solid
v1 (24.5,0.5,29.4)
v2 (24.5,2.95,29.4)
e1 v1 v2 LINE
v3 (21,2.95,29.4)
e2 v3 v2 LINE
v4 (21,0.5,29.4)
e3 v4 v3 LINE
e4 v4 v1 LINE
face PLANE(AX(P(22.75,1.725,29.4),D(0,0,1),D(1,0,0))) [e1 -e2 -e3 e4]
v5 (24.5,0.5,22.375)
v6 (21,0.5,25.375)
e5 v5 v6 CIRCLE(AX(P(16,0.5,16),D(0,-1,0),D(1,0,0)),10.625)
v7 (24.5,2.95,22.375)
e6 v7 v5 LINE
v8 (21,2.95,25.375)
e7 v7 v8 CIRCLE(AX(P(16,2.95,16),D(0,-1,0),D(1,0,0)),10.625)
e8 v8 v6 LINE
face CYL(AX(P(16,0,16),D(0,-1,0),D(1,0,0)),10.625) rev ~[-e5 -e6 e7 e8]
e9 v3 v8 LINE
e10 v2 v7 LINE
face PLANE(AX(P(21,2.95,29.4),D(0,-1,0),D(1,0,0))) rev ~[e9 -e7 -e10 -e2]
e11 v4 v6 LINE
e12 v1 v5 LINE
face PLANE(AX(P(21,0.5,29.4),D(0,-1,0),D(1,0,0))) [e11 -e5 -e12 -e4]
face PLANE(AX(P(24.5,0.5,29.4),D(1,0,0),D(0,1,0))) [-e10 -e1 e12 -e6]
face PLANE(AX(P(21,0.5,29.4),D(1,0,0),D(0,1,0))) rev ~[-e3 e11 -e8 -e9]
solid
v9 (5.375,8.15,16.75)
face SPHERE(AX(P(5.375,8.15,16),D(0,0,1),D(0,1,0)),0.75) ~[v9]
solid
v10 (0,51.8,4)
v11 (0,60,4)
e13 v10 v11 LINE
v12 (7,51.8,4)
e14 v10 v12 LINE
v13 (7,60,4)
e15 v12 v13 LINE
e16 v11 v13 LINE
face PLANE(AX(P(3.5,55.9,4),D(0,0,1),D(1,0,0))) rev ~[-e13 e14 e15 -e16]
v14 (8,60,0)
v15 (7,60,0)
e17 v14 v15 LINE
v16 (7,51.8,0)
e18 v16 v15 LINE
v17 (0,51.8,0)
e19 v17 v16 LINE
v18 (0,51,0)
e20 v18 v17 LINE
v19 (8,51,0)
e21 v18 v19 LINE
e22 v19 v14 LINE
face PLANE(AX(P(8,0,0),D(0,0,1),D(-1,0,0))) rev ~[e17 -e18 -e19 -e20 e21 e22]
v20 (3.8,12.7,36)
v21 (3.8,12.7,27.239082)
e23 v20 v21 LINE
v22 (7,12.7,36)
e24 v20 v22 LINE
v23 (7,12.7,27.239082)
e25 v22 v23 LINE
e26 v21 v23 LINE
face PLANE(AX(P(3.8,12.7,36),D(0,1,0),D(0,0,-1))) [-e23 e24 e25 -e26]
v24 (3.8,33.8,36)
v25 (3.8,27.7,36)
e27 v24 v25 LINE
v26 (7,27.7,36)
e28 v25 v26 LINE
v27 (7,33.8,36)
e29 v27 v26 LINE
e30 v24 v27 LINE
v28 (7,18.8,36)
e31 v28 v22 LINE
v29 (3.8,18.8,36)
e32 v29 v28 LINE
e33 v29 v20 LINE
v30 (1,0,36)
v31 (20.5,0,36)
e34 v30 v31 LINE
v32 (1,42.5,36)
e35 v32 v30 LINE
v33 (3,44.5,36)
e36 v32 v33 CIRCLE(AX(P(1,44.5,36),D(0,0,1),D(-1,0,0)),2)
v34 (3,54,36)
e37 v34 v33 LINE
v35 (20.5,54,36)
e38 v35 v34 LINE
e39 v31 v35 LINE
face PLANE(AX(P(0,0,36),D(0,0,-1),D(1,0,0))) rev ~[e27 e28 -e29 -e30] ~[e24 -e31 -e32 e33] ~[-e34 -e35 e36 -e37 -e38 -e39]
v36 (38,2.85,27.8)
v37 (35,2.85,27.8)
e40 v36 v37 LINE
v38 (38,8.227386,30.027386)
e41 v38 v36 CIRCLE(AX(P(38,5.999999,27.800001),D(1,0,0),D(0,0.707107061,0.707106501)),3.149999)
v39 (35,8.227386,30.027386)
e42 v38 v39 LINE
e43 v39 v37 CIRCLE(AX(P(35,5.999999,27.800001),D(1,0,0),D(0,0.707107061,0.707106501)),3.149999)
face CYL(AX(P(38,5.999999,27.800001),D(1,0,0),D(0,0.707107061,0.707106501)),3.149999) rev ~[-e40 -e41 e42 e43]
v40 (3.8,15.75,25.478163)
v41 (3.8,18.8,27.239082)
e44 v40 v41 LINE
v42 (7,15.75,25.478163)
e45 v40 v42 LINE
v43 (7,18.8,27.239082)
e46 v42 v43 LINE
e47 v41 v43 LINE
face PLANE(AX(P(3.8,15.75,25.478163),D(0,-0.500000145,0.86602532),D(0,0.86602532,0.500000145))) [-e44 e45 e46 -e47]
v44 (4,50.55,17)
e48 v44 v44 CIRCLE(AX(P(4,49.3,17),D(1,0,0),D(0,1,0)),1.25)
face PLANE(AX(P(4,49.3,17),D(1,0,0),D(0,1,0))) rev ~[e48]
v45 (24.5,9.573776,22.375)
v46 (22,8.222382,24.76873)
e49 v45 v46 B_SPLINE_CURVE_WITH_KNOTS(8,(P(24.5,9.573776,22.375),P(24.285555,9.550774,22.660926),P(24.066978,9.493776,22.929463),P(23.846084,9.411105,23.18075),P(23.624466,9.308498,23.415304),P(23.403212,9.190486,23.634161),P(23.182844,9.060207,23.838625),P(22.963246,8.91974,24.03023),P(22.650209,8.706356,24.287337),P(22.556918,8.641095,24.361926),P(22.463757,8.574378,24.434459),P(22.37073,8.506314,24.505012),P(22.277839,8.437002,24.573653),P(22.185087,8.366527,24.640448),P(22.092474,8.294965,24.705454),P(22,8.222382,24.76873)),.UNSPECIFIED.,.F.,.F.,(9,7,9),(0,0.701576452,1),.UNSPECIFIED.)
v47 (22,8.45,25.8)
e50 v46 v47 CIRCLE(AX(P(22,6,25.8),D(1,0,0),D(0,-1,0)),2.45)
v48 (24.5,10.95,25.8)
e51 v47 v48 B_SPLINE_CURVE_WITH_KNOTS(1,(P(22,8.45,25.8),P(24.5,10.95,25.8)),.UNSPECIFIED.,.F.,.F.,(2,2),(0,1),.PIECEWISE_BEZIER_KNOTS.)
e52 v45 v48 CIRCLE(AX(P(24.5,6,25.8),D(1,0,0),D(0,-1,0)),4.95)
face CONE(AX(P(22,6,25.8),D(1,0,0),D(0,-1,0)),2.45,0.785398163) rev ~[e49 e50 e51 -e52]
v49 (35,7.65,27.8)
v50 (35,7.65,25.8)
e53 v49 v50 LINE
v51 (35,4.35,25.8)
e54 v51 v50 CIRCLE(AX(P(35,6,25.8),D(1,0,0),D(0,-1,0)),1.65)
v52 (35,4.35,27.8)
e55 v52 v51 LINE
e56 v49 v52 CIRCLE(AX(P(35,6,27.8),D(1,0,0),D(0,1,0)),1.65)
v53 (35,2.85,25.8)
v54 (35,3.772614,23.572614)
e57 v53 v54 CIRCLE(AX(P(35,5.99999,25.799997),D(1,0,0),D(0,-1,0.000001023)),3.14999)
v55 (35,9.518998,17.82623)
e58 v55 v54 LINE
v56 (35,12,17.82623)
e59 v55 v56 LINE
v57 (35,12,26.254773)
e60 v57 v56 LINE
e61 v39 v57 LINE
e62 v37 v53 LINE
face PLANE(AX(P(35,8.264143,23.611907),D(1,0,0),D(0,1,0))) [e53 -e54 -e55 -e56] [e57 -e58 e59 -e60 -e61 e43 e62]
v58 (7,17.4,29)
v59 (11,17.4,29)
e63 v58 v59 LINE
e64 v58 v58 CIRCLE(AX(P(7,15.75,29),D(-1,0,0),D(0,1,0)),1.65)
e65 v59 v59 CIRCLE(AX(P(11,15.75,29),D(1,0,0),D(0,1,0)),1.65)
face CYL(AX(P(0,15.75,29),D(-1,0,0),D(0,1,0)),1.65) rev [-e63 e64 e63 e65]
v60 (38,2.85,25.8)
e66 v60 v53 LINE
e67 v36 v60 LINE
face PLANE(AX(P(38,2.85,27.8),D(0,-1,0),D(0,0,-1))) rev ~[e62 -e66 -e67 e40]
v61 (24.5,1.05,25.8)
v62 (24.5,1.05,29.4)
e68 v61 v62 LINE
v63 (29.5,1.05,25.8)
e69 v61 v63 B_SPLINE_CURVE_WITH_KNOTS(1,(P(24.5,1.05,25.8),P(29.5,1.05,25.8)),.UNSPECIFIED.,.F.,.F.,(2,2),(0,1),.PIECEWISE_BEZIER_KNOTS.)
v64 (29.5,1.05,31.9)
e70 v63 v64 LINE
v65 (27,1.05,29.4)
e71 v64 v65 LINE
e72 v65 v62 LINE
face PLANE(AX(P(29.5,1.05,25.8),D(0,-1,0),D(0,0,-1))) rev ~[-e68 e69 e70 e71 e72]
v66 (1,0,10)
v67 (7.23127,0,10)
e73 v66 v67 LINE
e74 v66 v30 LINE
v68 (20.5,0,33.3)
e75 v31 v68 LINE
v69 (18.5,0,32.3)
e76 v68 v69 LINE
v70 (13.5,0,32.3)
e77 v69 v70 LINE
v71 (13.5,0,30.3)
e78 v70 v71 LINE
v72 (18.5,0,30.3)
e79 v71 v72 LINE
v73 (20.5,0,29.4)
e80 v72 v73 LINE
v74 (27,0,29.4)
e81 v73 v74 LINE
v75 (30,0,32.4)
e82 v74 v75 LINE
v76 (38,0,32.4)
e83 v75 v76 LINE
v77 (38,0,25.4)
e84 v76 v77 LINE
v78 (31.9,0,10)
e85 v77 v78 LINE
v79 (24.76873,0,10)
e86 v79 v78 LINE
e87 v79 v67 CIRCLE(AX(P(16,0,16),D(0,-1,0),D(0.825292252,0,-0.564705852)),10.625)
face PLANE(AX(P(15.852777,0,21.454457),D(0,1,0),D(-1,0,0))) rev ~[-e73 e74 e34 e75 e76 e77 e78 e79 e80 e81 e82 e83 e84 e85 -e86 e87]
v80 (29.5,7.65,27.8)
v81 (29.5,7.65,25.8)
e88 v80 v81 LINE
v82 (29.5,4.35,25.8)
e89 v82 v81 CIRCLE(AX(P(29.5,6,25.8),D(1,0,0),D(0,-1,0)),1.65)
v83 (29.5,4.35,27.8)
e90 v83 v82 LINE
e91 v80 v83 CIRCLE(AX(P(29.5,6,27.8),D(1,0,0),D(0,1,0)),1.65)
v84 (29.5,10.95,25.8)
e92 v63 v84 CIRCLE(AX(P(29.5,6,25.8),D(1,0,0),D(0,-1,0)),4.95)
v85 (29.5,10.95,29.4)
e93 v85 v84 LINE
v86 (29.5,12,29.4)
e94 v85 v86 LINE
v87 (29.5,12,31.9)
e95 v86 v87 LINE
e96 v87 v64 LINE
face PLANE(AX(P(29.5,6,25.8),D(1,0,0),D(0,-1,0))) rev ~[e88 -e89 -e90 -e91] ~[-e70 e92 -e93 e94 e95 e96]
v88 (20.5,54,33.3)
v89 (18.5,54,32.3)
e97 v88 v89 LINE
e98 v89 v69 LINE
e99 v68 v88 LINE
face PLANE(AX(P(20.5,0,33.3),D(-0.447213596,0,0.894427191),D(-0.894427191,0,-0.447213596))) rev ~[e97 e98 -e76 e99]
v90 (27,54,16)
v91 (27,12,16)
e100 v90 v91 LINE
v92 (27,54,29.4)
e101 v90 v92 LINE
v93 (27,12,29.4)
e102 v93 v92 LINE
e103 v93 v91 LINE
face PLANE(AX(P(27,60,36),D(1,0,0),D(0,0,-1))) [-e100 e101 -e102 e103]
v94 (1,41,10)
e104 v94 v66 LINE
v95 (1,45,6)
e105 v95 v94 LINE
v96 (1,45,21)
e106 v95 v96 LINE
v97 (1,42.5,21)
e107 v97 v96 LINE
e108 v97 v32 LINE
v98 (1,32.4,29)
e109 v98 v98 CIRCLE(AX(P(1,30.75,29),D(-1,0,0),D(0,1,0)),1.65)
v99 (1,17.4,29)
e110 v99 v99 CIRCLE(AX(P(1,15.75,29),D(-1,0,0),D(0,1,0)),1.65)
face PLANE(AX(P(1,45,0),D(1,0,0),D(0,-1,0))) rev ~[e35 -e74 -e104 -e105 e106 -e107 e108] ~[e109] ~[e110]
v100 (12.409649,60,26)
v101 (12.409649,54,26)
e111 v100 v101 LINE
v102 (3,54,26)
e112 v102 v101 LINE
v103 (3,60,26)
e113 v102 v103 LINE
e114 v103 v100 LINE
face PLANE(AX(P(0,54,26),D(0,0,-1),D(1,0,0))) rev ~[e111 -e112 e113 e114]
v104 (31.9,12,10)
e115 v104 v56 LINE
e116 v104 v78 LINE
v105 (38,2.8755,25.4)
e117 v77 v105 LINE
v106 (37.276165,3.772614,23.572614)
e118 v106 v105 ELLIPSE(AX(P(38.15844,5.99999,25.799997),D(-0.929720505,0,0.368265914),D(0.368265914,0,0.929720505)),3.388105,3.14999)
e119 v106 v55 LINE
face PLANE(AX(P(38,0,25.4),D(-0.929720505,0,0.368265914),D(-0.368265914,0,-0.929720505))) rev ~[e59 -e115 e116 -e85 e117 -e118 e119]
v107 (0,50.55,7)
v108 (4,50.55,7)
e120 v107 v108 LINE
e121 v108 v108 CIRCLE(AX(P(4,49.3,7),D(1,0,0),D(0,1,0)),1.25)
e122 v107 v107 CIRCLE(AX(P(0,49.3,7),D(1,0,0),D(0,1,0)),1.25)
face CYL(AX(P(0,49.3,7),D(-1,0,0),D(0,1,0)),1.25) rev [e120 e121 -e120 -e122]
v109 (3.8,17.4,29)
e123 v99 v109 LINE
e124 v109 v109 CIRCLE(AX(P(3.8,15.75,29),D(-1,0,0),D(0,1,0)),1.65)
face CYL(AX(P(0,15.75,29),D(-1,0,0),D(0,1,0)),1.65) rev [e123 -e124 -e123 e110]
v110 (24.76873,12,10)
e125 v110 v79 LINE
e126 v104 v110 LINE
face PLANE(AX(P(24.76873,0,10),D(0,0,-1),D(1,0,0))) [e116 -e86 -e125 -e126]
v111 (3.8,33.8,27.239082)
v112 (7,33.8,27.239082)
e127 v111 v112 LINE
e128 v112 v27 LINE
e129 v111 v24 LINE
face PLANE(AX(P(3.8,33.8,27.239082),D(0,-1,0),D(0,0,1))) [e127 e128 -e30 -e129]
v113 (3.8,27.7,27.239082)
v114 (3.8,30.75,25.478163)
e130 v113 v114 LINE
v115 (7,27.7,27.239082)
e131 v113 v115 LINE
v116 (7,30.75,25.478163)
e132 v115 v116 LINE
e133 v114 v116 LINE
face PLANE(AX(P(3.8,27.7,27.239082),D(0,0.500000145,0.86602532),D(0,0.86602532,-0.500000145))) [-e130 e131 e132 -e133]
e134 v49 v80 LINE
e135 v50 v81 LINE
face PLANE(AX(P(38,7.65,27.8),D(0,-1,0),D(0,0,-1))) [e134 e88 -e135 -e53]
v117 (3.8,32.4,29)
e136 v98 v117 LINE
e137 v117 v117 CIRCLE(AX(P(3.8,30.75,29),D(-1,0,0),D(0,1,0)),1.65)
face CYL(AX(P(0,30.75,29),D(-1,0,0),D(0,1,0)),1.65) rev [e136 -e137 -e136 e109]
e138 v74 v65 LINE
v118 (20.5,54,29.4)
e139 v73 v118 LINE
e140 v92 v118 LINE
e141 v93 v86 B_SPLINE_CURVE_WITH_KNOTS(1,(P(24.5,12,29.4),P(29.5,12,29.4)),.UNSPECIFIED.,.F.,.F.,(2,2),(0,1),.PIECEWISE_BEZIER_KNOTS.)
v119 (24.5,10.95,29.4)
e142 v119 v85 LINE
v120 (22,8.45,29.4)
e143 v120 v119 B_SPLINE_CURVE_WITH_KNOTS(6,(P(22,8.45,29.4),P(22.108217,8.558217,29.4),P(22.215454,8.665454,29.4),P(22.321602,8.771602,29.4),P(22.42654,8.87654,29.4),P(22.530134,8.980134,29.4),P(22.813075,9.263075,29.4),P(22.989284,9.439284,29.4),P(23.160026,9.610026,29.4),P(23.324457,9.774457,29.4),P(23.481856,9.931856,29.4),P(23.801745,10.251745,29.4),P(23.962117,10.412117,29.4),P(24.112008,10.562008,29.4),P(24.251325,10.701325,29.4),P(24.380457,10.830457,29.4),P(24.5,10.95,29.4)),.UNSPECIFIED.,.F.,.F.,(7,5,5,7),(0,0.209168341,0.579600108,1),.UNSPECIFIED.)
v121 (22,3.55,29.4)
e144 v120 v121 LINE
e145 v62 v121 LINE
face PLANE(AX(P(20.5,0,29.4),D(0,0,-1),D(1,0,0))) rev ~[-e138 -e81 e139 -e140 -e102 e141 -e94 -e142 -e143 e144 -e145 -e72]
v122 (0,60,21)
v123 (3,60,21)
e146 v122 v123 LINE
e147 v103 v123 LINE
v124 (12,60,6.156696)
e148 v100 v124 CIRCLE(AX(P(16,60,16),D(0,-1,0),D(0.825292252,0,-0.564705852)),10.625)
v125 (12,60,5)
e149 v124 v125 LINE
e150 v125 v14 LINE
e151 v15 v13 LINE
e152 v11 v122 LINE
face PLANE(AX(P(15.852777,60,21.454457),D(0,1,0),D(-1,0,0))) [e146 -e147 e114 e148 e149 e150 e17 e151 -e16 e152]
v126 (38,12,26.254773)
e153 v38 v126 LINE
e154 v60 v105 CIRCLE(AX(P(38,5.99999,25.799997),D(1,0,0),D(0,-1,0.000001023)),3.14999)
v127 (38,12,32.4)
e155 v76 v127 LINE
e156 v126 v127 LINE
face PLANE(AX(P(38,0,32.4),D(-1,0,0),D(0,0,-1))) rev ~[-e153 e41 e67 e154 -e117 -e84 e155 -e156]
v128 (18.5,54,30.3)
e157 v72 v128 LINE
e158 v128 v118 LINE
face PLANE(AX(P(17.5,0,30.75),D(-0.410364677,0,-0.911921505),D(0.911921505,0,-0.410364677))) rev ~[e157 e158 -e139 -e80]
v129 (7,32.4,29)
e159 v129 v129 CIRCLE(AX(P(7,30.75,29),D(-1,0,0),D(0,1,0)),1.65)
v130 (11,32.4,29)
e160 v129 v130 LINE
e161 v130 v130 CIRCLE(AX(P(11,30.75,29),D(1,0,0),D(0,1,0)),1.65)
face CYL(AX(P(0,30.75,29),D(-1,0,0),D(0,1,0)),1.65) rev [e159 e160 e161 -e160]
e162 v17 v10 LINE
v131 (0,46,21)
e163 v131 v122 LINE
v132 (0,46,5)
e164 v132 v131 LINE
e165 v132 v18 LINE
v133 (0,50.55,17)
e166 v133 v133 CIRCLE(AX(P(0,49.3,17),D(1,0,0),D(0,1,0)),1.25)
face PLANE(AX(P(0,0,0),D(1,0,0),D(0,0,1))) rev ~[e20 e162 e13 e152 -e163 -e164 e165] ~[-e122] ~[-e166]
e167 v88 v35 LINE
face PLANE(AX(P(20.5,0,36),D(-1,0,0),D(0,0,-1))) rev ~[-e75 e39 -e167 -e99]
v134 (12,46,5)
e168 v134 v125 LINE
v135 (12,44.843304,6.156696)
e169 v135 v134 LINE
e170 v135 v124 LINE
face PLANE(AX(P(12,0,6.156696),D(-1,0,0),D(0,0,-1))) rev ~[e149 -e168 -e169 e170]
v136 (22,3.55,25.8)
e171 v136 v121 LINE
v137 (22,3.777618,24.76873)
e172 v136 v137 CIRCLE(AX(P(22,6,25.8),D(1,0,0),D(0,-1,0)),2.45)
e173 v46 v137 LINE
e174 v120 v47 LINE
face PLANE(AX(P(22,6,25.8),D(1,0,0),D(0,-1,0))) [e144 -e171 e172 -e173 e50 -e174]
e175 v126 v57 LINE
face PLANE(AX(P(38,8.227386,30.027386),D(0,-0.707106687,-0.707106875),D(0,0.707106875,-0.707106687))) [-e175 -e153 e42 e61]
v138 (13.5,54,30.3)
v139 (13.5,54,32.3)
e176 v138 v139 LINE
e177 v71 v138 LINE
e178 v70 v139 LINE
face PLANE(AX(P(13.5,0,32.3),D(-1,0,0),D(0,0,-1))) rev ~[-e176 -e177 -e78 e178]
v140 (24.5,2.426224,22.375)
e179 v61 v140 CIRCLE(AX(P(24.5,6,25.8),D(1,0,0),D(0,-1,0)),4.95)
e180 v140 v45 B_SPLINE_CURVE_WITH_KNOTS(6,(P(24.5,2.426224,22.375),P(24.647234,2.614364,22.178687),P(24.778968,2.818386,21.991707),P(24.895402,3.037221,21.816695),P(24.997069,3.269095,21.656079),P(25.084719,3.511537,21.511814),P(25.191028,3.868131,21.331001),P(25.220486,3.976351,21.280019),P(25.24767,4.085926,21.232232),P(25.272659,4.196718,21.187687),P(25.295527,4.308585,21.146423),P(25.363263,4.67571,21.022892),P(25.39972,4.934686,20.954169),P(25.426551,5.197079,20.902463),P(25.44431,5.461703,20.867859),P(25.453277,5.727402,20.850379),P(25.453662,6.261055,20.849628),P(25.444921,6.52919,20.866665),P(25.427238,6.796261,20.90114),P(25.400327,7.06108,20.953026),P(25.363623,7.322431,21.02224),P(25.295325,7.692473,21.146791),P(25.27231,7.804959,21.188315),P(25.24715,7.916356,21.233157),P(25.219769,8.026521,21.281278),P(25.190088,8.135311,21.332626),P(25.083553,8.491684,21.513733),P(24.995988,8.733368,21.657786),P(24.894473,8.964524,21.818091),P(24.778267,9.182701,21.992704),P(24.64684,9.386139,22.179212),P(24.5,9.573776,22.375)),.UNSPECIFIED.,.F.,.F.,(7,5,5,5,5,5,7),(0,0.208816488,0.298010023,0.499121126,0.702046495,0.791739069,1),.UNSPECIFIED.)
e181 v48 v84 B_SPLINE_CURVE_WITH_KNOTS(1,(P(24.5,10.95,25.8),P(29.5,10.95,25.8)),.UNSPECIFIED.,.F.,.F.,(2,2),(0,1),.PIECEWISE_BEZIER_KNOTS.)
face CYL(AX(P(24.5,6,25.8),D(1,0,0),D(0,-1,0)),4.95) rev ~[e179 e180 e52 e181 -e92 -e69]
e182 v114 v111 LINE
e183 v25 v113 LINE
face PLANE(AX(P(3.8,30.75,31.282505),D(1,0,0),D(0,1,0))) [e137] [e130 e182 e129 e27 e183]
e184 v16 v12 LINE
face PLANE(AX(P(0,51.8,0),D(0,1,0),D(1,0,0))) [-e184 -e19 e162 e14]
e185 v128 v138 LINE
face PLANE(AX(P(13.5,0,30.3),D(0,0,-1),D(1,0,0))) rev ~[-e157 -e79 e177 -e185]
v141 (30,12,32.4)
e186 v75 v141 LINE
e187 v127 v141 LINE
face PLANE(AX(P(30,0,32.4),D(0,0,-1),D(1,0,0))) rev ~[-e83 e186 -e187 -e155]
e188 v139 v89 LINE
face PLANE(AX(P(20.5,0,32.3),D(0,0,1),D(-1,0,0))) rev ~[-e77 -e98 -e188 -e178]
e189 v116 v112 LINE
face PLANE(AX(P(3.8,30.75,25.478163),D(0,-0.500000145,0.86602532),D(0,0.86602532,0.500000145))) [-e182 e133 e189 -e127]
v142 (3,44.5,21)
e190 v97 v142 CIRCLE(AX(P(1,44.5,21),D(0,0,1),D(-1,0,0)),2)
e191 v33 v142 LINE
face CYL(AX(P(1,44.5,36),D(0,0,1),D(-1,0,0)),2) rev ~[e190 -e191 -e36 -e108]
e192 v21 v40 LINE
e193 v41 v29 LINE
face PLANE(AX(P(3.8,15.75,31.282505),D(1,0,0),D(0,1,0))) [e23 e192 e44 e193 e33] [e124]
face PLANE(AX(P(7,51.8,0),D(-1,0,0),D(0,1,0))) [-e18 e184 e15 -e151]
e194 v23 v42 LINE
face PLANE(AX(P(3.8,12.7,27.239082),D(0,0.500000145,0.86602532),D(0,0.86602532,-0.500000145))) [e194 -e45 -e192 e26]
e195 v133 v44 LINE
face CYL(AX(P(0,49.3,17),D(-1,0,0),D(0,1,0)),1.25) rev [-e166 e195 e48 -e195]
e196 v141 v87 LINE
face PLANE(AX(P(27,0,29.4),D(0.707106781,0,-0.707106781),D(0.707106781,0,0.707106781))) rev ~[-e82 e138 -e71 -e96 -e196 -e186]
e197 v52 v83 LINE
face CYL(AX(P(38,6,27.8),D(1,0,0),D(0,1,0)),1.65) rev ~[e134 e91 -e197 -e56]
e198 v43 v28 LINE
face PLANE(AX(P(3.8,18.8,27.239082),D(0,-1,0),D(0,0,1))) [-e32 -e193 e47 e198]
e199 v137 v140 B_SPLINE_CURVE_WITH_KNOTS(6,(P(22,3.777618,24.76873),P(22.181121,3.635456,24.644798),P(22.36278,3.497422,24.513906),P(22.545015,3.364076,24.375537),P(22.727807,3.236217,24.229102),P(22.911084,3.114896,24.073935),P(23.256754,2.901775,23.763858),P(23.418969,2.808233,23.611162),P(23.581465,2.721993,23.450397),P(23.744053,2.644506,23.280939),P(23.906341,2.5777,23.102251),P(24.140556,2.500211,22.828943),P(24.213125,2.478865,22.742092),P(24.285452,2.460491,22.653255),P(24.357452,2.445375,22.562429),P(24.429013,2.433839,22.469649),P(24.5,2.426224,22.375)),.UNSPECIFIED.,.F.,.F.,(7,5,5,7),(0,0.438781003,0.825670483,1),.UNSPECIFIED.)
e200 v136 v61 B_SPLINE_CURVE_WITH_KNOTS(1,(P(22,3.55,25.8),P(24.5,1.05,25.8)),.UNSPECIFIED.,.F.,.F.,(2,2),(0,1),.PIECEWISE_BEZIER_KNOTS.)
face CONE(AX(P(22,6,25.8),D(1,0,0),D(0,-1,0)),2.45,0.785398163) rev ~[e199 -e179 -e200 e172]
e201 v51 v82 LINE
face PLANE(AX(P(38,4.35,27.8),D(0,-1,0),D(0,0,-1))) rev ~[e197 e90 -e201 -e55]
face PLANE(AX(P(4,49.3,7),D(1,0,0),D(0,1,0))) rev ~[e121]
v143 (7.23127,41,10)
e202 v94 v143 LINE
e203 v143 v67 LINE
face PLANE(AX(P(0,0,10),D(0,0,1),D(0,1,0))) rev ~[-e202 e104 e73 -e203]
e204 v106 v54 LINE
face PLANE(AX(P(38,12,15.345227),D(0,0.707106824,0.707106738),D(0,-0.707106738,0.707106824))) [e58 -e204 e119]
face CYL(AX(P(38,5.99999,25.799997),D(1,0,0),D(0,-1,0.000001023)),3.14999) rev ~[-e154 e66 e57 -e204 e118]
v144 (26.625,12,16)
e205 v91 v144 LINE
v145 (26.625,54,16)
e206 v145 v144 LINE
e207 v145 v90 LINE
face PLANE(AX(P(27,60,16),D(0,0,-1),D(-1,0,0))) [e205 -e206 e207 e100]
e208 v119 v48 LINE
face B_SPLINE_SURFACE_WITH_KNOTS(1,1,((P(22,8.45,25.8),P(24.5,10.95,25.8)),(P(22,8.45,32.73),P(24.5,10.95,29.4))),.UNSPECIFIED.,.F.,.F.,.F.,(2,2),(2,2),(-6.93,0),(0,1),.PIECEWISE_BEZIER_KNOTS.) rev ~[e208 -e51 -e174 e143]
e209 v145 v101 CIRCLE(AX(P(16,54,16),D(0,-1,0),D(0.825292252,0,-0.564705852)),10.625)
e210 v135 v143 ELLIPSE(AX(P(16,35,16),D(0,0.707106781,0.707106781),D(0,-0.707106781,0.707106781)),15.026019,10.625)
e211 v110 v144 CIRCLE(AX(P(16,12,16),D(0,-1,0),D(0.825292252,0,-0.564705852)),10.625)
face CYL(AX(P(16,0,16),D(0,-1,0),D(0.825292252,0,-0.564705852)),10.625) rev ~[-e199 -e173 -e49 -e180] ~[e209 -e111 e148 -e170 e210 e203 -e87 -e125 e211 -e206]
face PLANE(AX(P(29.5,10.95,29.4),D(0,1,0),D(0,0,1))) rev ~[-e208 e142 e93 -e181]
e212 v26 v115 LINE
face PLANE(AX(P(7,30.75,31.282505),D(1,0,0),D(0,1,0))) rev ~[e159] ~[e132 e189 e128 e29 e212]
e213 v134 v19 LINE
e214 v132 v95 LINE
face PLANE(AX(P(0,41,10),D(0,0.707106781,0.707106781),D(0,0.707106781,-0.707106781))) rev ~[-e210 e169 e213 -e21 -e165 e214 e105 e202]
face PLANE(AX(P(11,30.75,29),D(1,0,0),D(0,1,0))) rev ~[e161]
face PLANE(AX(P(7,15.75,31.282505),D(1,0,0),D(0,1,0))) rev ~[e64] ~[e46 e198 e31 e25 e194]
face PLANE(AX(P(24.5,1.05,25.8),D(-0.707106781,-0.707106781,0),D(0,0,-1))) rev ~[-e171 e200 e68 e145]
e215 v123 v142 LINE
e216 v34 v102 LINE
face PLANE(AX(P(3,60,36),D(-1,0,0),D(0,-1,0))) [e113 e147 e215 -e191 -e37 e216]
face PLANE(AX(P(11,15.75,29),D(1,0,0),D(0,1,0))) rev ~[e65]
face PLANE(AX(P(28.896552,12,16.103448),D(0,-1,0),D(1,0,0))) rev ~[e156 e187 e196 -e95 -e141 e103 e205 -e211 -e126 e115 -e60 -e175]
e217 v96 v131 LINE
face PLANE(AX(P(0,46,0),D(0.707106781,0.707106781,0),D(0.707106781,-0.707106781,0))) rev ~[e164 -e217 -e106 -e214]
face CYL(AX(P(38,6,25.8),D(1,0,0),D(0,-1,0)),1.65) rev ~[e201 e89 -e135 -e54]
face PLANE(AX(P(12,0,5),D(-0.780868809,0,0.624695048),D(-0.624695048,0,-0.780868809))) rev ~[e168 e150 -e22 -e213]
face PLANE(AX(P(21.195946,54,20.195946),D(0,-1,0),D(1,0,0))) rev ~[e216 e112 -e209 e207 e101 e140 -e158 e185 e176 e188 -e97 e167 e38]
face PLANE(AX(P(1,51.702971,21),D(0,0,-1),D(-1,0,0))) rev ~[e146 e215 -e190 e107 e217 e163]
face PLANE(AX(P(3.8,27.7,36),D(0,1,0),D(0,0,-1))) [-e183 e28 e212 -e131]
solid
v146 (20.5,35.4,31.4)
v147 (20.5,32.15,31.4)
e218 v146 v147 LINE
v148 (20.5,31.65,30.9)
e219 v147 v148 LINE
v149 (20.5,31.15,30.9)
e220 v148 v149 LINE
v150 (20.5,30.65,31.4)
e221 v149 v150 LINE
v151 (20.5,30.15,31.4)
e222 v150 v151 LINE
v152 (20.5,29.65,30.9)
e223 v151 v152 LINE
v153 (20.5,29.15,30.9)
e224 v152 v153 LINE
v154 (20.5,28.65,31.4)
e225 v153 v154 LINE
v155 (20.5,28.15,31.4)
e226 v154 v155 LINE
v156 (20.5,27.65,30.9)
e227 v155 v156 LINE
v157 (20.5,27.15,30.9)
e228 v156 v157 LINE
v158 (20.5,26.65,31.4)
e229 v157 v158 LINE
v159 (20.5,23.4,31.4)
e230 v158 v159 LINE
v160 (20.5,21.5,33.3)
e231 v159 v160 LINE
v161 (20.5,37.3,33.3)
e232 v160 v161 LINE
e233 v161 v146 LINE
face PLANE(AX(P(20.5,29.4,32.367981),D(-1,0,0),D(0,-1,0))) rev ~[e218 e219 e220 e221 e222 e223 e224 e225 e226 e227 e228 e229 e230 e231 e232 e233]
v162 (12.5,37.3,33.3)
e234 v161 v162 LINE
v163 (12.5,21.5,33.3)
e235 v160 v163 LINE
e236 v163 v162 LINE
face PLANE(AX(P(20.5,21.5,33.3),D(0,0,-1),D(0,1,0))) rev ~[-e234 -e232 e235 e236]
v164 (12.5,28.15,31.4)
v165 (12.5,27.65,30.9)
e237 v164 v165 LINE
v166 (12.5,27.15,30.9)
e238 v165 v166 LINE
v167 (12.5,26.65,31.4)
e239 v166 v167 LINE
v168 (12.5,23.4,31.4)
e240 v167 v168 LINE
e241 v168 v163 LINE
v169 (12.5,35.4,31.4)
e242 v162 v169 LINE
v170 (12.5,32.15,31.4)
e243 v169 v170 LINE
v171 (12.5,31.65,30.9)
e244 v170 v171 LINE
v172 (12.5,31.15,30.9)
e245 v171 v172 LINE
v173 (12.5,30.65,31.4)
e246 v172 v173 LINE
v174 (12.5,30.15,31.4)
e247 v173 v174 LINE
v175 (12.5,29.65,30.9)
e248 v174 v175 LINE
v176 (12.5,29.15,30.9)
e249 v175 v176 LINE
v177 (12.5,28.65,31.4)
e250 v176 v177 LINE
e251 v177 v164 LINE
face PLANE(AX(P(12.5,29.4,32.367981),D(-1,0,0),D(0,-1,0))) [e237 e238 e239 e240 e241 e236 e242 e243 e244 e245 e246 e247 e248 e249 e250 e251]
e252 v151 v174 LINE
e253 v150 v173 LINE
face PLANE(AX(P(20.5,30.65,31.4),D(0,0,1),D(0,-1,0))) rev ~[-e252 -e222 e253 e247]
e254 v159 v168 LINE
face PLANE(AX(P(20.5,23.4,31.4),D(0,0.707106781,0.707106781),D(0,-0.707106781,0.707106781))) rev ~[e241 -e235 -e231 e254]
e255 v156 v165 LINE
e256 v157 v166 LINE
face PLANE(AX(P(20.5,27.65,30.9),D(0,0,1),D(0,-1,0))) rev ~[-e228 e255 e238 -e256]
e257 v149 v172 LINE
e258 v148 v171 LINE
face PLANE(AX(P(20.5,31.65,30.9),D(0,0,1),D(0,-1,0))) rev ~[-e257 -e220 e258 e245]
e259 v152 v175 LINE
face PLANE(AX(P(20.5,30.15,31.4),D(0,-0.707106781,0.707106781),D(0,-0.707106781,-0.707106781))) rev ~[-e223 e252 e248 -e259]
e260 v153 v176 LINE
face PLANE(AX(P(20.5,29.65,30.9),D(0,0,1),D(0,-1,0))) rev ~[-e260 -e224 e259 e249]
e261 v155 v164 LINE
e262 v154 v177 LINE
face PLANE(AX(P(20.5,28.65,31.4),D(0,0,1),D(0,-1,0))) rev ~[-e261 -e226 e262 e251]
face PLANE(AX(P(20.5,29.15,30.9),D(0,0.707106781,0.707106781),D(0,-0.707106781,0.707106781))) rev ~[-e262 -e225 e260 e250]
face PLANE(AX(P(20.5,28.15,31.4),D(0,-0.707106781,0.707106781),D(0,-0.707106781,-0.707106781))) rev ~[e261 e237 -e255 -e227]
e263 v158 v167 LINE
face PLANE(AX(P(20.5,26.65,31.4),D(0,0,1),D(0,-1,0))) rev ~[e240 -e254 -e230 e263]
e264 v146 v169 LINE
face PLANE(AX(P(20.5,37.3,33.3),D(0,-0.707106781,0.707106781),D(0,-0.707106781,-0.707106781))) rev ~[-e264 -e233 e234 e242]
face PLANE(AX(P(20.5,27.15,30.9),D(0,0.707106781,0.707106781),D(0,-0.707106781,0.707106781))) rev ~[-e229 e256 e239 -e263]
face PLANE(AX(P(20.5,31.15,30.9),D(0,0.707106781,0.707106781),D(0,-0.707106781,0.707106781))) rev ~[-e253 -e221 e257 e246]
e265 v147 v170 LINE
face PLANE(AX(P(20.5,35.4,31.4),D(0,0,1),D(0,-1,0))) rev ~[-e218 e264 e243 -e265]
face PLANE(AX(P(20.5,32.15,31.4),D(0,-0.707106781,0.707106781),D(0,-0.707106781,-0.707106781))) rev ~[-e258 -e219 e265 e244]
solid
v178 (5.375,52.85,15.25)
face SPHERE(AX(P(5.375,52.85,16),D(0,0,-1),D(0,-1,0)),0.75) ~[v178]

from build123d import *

# Parameters (mm, degrees)
PAD_DEPTH       = 60
POCKET_DEPTH    = 36.001
POCKET001_DEPTH = 38.001
POCKET002_DEPTH = 6
POCKET003_DEPTH = 48
POCKET004_DEPTH = 15
SKETCH006_W     = 7
SKETCH006_H     = 8.2
POCKET005_DEPTH = 4
POCKET006_DEPTH = 3.2
SKETCH011_R     = 1.25
POCKET007_DEPTH = 4
SKETCH012_R     = 1.65
POCKET008_DEPTH = 11
POCKET009_DEPTH = 3
POCKET010_DEPTH = 11
POCKET011_DEPTH = 60.001
PAD001_DEPTH    = 8
SKETCH017_W     = 3.5
SKETCH017_H     = 2.45
PAD002_DEPTH    = 13.4
SKETCH018_R     = 10.625
POCKET012_DEPTH = 2.951


with BuildPart() as main_body:
    # Sketch → Pad (new body)
    with BuildSketch(Plane.XZ):
        with BuildLine():
            ThreePointArc((24.76873, 10), (12.937657, 26.174118), (12, 6.156696))
            Line((12, 6.156696), (12, 5))
            Line((12, 5), (8, 0))
            Line((8, 0), (0, 0))
            Line((0, 0), (0, 36))
            Line((0, 36), (20.5, 36))
            Line((20.5, 36), (20.5, 32.3))
            Line((20.5, 32.3), (13.5, 32.3))
            Line((13.5, 32.3), (13.5, 30.3))
            Line((13.5, 30.3), (20.5, 30.3))
            Line((20.5, 30.3), (20.5, 29.4))
            Line((20.5, 29.4), (27, 29.4))
            Line((27, 29.4), (30, 32.4))
            Line((30, 32.4), (38, 32.4))
            Line((38, 32.4), (38, 25.4))
            Line((38, 25.4), (31.9, 10))
            Line((24.76873, 10), (31.9, 10))
        make_face()
    extrude(amount=-PAD_DEPTH)

    # Sketch001 → Pocket (cut, through all)
    with BuildSketch(Plane.XY):
        Polygon((0, 46), (1, 45), (1, 0), (0, 0), align=None)
    extrude(amount=POCKET_DEPTH, mode=Mode.SUBTRACT)

    # Sketch002 → Pocket001 (cut, through all)
    with BuildSketch(Plane.YZ):
        Polygon((0, 10), (41, 10), (51, 0), (0, 0), align=None)
    extrude(amount=POCKET001_DEPTH, mode=Mode.SUBTRACT)

    # Sketch003 → Pocket002 (cut)
    with BuildSketch(Plane.XZ.offset(-54)):
        Polygon((0, 36), (0, 26), (12.5, 26), (12.5, 0), (38, 0), (38, 36), align=None)
    extrude(amount=-POCKET002_DEPTH, mode=Mode.SUBTRACT)

    # Sketch004 → Pocket003 (cut)
    with BuildSketch(Plane.XZ.offset(-60)):
        Polygon((27, 36), (27, 16), (16, 16), (16, 0), (38, 0), (38, 36), align=None)
    extrude(amount=POCKET003_DEPTH, mode=Mode.SUBTRACT)

    # Sketch005 → Pocket004 (cut)
    with BuildSketch(Plane.XY.offset(36)):
        with BuildLine():
            Line((-1, 60), (3, 60))
            Line((3, 60), (3, 44.5))
            ThreePointArc((-1, 44.5), (1, 42.5), (3, 44.5))
            Line((-1, 60), (-1, 44.5))
        make_face()
    extrude(amount=-POCKET004_DEPTH, mode=Mode.SUBTRACT)

    # Sketch006 → Pocket005 (cut)
    with BuildSketch(Plane.XY):
        with Locations((3.5, 55.9)):
            Rectangle(SKETCH006_W, SKETCH006_H)
    extrude(amount=POCKET005_DEPTH, mode=Mode.SUBTRACT)

    # Sketch009 → SubtractiveLoft section 0
    with BuildSketch(Plane.YZ.offset(22)):
        with BuildLine():
            ThreePointArc((3.55, 25.8), (6, 23.35), (8.45, 25.8))
            Line((8.45, 32.73), (8.45, 25.8))
            Line((8.45, 32.73), (12, 32.73))
            Line((12, 32.73), (12, 36))
            Line((3.55, 36), (12, 36))
            Line((3.55, 25.8), (3.55, 36))
        make_face()
    # Sketch008 → SubtractiveLoft section 1
    with BuildSketch(Plane.YZ.offset(24.5)):
        with BuildLine():
            ThreePointArc((1.05, 25.8), (6, 20.85), (10.95, 25.8))
            Line((10.95, 29.4), (10.95, 25.8))
            Line((10.95, 29.4), (12, 29.4))
            Line((12, 29.4), (12, 36))
            Line((1.05, 36), (12, 36))
            Line((1.05, 25.8), (1.05, 36))
        make_face()
    # Sketch007 → SubtractiveLoft section 2
    with BuildSketch(Plane.YZ.offset(29.5)):
        with BuildLine():
            ThreePointArc((1.05, 25.8), (6, 20.85), (10.95, 25.8))
            Line((10.95, 29.4), (10.95, 25.8))
            Line((10.95, 29.4), (12, 29.4))
            Line((12, 29.4), (12, 36))
            Line((1.05, 36), (12, 36))
            Line((1.05, 25.8), (1.05, 36))
        make_face()
    loft(ruled=True, mode=Mode.SUBTRACT)

    # Sketch010 → Pocket006 (cut)
    with BuildSketch(Plane.YZ.offset(3.8)):
        Polygon((12.7, 30.760918), (12.7, 27.239082), (15.75, 25.478163), (18.8, 27.239082), (18.8, 30.760918), (18.8, 36), (12.7, 36), align=None)
        Polygon((27.7, 30.760918), (27.7, 27.239082), (30.75, 25.478163), (33.8, 27.239082), (33.8, 30.760918), (33.8, 36), (27.7, 36), align=None)
    extrude(amount=POCKET006_DEPTH, mode=Mode.SUBTRACT)

    # Sketch011 → Pocket007 (cut)
    with BuildSketch(Plane.YZ):
        with Locations((49.3, 17)):
            Circle(SKETCH011_R)
        with Locations((49.3, 7)):
            Circle(SKETCH011_R)
    extrude(amount=POCKET007_DEPTH, mode=Mode.SUBTRACT)

    # Sketch012 → Pocket008 (cut)
    with BuildSketch(Plane.YZ):
        with Locations((15.75, 29)):
            Circle(SKETCH012_R)
        with Locations((30.75, 29)):
            Circle(SKETCH012_R)
    extrude(amount=POCKET008_DEPTH, mode=Mode.SUBTRACT)

    # Sketch013 → Pocket009 (cut)
    with BuildSketch(Plane.YZ.offset(38)):
        with BuildLine():
            ThreePointArc((8.227386, 30.027386), (4.794547, 30.710221), (2.85, 27.8))
            Line((2.85, 27.8), (2.85, 25.8))
            ThreePointArc((2.85, 25.8), (3.089779, 24.594547), (3.772614, 23.572614))
            Line((12, 15.345227), (3.772614, 23.572614))
            Line((12, 26.254773), (12, 15.345227))
            Line((8.227386, 30.027386), (12, 26.254773))
        make_face()
    extrude(amount=-POCKET009_DEPTH, mode=Mode.SUBTRACT)

    # Sketch014 → Pocket010 (cut)
    with BuildSketch(Plane.YZ.offset(38)):
        with BuildLine():
            ThreePointArc((7.65, 27.8), (6, 29.45), (4.35, 27.8))
            Line((4.35, 27.8), (4.35, 25.8))
            ThreePointArc((4.35, 25.8), (6, 24.15), (7.65, 25.8))
            Line((7.65, 27.8), (7.65, 25.8))
        make_face()
    extrude(amount=-POCKET010_DEPTH, mode=Mode.SUBTRACT)

    # Sketch015 → Pocket011 (cut, through all)
    with BuildSketch(Plane.XZ):
        Polygon((20.5, 33.3), (17.5, 31.8), (17.5, 30.75), (20.5, 29.4), align=None)
    extrude(amount=-POCKET011_DEPTH, mode=Mode.SUBTRACT)


with BuildPart() as belt_gripper:
    # Sketch016 → Pad001 (new body)
    with BuildSketch(Plane.YZ.offset(20.5)):
        Polygon((21.5, 33.3), (37.3, 33.3), (35.4, 31.4), (32.15, 31.4), (31.65, 30.9), (31.15, 30.9), (30.65, 31.4), (30.15, 31.4), (29.65, 30.9), (29.15, 30.9), (28.65, 31.4), (28.15, 31.4), (27.65, 30.9), (27.15, 30.9), (26.65, 31.4), (23.4, 31.4), align=None)
    extrude(amount=-PAD001_DEPTH)


with BuildPart() as xrib_bearing_nut_stop:
    # Sketch017 → Pad002 (new body)
    with BuildSketch(Plane.XY.offset(29.4)):
        with Locations((22.75, 1.725)):
            Rectangle(SKETCH017_W, SKETCH017_H)
    extrude(amount=-PAD002_DEPTH)

    # Sketch018 → Pocket012 (cut, through all)
    with BuildSketch(Plane.XZ):
        with Locations((16, 16)):
            Circle(SKETCH018_R)
    extrude(amount=-POCKET012_DEPTH, mode=Mode.SUBTRACT)


with BuildPart() as body003:
    # Sketch019 → Revolution (revolve)
    with BuildSketch(Plane.YZ.offset(5.375)):
        with BuildLine():
            ThreePointArc((8.15, 15.25), (8.9, 16), (8.15, 16.75))
            Line((8.15, 16.75), (8.15, 15.25))
        make_face()
    revolve(axis=Axis((5.375, 8.15, 16.75), (0, 0, -1)))


with BuildPart() as body004:
    # Sketch020 → Revolution001 (revolve)
    with BuildSketch(Plane.YZ.offset(5.375)):
        with BuildLine():
            ThreePointArc((52.85, 16.75), (52.1, 16), (52.85, 15.25))
            Line((52.85, 15.25), (52.85, 16.75))
        make_face()
    revolve(axis=Axis((5.375, 52.85, 15.25), (0, 0, 1)))


solid = Compound([main_body.part, belt_gripper.part, xrib_bearing_nut_stop.part, body003.part, body004.part])
